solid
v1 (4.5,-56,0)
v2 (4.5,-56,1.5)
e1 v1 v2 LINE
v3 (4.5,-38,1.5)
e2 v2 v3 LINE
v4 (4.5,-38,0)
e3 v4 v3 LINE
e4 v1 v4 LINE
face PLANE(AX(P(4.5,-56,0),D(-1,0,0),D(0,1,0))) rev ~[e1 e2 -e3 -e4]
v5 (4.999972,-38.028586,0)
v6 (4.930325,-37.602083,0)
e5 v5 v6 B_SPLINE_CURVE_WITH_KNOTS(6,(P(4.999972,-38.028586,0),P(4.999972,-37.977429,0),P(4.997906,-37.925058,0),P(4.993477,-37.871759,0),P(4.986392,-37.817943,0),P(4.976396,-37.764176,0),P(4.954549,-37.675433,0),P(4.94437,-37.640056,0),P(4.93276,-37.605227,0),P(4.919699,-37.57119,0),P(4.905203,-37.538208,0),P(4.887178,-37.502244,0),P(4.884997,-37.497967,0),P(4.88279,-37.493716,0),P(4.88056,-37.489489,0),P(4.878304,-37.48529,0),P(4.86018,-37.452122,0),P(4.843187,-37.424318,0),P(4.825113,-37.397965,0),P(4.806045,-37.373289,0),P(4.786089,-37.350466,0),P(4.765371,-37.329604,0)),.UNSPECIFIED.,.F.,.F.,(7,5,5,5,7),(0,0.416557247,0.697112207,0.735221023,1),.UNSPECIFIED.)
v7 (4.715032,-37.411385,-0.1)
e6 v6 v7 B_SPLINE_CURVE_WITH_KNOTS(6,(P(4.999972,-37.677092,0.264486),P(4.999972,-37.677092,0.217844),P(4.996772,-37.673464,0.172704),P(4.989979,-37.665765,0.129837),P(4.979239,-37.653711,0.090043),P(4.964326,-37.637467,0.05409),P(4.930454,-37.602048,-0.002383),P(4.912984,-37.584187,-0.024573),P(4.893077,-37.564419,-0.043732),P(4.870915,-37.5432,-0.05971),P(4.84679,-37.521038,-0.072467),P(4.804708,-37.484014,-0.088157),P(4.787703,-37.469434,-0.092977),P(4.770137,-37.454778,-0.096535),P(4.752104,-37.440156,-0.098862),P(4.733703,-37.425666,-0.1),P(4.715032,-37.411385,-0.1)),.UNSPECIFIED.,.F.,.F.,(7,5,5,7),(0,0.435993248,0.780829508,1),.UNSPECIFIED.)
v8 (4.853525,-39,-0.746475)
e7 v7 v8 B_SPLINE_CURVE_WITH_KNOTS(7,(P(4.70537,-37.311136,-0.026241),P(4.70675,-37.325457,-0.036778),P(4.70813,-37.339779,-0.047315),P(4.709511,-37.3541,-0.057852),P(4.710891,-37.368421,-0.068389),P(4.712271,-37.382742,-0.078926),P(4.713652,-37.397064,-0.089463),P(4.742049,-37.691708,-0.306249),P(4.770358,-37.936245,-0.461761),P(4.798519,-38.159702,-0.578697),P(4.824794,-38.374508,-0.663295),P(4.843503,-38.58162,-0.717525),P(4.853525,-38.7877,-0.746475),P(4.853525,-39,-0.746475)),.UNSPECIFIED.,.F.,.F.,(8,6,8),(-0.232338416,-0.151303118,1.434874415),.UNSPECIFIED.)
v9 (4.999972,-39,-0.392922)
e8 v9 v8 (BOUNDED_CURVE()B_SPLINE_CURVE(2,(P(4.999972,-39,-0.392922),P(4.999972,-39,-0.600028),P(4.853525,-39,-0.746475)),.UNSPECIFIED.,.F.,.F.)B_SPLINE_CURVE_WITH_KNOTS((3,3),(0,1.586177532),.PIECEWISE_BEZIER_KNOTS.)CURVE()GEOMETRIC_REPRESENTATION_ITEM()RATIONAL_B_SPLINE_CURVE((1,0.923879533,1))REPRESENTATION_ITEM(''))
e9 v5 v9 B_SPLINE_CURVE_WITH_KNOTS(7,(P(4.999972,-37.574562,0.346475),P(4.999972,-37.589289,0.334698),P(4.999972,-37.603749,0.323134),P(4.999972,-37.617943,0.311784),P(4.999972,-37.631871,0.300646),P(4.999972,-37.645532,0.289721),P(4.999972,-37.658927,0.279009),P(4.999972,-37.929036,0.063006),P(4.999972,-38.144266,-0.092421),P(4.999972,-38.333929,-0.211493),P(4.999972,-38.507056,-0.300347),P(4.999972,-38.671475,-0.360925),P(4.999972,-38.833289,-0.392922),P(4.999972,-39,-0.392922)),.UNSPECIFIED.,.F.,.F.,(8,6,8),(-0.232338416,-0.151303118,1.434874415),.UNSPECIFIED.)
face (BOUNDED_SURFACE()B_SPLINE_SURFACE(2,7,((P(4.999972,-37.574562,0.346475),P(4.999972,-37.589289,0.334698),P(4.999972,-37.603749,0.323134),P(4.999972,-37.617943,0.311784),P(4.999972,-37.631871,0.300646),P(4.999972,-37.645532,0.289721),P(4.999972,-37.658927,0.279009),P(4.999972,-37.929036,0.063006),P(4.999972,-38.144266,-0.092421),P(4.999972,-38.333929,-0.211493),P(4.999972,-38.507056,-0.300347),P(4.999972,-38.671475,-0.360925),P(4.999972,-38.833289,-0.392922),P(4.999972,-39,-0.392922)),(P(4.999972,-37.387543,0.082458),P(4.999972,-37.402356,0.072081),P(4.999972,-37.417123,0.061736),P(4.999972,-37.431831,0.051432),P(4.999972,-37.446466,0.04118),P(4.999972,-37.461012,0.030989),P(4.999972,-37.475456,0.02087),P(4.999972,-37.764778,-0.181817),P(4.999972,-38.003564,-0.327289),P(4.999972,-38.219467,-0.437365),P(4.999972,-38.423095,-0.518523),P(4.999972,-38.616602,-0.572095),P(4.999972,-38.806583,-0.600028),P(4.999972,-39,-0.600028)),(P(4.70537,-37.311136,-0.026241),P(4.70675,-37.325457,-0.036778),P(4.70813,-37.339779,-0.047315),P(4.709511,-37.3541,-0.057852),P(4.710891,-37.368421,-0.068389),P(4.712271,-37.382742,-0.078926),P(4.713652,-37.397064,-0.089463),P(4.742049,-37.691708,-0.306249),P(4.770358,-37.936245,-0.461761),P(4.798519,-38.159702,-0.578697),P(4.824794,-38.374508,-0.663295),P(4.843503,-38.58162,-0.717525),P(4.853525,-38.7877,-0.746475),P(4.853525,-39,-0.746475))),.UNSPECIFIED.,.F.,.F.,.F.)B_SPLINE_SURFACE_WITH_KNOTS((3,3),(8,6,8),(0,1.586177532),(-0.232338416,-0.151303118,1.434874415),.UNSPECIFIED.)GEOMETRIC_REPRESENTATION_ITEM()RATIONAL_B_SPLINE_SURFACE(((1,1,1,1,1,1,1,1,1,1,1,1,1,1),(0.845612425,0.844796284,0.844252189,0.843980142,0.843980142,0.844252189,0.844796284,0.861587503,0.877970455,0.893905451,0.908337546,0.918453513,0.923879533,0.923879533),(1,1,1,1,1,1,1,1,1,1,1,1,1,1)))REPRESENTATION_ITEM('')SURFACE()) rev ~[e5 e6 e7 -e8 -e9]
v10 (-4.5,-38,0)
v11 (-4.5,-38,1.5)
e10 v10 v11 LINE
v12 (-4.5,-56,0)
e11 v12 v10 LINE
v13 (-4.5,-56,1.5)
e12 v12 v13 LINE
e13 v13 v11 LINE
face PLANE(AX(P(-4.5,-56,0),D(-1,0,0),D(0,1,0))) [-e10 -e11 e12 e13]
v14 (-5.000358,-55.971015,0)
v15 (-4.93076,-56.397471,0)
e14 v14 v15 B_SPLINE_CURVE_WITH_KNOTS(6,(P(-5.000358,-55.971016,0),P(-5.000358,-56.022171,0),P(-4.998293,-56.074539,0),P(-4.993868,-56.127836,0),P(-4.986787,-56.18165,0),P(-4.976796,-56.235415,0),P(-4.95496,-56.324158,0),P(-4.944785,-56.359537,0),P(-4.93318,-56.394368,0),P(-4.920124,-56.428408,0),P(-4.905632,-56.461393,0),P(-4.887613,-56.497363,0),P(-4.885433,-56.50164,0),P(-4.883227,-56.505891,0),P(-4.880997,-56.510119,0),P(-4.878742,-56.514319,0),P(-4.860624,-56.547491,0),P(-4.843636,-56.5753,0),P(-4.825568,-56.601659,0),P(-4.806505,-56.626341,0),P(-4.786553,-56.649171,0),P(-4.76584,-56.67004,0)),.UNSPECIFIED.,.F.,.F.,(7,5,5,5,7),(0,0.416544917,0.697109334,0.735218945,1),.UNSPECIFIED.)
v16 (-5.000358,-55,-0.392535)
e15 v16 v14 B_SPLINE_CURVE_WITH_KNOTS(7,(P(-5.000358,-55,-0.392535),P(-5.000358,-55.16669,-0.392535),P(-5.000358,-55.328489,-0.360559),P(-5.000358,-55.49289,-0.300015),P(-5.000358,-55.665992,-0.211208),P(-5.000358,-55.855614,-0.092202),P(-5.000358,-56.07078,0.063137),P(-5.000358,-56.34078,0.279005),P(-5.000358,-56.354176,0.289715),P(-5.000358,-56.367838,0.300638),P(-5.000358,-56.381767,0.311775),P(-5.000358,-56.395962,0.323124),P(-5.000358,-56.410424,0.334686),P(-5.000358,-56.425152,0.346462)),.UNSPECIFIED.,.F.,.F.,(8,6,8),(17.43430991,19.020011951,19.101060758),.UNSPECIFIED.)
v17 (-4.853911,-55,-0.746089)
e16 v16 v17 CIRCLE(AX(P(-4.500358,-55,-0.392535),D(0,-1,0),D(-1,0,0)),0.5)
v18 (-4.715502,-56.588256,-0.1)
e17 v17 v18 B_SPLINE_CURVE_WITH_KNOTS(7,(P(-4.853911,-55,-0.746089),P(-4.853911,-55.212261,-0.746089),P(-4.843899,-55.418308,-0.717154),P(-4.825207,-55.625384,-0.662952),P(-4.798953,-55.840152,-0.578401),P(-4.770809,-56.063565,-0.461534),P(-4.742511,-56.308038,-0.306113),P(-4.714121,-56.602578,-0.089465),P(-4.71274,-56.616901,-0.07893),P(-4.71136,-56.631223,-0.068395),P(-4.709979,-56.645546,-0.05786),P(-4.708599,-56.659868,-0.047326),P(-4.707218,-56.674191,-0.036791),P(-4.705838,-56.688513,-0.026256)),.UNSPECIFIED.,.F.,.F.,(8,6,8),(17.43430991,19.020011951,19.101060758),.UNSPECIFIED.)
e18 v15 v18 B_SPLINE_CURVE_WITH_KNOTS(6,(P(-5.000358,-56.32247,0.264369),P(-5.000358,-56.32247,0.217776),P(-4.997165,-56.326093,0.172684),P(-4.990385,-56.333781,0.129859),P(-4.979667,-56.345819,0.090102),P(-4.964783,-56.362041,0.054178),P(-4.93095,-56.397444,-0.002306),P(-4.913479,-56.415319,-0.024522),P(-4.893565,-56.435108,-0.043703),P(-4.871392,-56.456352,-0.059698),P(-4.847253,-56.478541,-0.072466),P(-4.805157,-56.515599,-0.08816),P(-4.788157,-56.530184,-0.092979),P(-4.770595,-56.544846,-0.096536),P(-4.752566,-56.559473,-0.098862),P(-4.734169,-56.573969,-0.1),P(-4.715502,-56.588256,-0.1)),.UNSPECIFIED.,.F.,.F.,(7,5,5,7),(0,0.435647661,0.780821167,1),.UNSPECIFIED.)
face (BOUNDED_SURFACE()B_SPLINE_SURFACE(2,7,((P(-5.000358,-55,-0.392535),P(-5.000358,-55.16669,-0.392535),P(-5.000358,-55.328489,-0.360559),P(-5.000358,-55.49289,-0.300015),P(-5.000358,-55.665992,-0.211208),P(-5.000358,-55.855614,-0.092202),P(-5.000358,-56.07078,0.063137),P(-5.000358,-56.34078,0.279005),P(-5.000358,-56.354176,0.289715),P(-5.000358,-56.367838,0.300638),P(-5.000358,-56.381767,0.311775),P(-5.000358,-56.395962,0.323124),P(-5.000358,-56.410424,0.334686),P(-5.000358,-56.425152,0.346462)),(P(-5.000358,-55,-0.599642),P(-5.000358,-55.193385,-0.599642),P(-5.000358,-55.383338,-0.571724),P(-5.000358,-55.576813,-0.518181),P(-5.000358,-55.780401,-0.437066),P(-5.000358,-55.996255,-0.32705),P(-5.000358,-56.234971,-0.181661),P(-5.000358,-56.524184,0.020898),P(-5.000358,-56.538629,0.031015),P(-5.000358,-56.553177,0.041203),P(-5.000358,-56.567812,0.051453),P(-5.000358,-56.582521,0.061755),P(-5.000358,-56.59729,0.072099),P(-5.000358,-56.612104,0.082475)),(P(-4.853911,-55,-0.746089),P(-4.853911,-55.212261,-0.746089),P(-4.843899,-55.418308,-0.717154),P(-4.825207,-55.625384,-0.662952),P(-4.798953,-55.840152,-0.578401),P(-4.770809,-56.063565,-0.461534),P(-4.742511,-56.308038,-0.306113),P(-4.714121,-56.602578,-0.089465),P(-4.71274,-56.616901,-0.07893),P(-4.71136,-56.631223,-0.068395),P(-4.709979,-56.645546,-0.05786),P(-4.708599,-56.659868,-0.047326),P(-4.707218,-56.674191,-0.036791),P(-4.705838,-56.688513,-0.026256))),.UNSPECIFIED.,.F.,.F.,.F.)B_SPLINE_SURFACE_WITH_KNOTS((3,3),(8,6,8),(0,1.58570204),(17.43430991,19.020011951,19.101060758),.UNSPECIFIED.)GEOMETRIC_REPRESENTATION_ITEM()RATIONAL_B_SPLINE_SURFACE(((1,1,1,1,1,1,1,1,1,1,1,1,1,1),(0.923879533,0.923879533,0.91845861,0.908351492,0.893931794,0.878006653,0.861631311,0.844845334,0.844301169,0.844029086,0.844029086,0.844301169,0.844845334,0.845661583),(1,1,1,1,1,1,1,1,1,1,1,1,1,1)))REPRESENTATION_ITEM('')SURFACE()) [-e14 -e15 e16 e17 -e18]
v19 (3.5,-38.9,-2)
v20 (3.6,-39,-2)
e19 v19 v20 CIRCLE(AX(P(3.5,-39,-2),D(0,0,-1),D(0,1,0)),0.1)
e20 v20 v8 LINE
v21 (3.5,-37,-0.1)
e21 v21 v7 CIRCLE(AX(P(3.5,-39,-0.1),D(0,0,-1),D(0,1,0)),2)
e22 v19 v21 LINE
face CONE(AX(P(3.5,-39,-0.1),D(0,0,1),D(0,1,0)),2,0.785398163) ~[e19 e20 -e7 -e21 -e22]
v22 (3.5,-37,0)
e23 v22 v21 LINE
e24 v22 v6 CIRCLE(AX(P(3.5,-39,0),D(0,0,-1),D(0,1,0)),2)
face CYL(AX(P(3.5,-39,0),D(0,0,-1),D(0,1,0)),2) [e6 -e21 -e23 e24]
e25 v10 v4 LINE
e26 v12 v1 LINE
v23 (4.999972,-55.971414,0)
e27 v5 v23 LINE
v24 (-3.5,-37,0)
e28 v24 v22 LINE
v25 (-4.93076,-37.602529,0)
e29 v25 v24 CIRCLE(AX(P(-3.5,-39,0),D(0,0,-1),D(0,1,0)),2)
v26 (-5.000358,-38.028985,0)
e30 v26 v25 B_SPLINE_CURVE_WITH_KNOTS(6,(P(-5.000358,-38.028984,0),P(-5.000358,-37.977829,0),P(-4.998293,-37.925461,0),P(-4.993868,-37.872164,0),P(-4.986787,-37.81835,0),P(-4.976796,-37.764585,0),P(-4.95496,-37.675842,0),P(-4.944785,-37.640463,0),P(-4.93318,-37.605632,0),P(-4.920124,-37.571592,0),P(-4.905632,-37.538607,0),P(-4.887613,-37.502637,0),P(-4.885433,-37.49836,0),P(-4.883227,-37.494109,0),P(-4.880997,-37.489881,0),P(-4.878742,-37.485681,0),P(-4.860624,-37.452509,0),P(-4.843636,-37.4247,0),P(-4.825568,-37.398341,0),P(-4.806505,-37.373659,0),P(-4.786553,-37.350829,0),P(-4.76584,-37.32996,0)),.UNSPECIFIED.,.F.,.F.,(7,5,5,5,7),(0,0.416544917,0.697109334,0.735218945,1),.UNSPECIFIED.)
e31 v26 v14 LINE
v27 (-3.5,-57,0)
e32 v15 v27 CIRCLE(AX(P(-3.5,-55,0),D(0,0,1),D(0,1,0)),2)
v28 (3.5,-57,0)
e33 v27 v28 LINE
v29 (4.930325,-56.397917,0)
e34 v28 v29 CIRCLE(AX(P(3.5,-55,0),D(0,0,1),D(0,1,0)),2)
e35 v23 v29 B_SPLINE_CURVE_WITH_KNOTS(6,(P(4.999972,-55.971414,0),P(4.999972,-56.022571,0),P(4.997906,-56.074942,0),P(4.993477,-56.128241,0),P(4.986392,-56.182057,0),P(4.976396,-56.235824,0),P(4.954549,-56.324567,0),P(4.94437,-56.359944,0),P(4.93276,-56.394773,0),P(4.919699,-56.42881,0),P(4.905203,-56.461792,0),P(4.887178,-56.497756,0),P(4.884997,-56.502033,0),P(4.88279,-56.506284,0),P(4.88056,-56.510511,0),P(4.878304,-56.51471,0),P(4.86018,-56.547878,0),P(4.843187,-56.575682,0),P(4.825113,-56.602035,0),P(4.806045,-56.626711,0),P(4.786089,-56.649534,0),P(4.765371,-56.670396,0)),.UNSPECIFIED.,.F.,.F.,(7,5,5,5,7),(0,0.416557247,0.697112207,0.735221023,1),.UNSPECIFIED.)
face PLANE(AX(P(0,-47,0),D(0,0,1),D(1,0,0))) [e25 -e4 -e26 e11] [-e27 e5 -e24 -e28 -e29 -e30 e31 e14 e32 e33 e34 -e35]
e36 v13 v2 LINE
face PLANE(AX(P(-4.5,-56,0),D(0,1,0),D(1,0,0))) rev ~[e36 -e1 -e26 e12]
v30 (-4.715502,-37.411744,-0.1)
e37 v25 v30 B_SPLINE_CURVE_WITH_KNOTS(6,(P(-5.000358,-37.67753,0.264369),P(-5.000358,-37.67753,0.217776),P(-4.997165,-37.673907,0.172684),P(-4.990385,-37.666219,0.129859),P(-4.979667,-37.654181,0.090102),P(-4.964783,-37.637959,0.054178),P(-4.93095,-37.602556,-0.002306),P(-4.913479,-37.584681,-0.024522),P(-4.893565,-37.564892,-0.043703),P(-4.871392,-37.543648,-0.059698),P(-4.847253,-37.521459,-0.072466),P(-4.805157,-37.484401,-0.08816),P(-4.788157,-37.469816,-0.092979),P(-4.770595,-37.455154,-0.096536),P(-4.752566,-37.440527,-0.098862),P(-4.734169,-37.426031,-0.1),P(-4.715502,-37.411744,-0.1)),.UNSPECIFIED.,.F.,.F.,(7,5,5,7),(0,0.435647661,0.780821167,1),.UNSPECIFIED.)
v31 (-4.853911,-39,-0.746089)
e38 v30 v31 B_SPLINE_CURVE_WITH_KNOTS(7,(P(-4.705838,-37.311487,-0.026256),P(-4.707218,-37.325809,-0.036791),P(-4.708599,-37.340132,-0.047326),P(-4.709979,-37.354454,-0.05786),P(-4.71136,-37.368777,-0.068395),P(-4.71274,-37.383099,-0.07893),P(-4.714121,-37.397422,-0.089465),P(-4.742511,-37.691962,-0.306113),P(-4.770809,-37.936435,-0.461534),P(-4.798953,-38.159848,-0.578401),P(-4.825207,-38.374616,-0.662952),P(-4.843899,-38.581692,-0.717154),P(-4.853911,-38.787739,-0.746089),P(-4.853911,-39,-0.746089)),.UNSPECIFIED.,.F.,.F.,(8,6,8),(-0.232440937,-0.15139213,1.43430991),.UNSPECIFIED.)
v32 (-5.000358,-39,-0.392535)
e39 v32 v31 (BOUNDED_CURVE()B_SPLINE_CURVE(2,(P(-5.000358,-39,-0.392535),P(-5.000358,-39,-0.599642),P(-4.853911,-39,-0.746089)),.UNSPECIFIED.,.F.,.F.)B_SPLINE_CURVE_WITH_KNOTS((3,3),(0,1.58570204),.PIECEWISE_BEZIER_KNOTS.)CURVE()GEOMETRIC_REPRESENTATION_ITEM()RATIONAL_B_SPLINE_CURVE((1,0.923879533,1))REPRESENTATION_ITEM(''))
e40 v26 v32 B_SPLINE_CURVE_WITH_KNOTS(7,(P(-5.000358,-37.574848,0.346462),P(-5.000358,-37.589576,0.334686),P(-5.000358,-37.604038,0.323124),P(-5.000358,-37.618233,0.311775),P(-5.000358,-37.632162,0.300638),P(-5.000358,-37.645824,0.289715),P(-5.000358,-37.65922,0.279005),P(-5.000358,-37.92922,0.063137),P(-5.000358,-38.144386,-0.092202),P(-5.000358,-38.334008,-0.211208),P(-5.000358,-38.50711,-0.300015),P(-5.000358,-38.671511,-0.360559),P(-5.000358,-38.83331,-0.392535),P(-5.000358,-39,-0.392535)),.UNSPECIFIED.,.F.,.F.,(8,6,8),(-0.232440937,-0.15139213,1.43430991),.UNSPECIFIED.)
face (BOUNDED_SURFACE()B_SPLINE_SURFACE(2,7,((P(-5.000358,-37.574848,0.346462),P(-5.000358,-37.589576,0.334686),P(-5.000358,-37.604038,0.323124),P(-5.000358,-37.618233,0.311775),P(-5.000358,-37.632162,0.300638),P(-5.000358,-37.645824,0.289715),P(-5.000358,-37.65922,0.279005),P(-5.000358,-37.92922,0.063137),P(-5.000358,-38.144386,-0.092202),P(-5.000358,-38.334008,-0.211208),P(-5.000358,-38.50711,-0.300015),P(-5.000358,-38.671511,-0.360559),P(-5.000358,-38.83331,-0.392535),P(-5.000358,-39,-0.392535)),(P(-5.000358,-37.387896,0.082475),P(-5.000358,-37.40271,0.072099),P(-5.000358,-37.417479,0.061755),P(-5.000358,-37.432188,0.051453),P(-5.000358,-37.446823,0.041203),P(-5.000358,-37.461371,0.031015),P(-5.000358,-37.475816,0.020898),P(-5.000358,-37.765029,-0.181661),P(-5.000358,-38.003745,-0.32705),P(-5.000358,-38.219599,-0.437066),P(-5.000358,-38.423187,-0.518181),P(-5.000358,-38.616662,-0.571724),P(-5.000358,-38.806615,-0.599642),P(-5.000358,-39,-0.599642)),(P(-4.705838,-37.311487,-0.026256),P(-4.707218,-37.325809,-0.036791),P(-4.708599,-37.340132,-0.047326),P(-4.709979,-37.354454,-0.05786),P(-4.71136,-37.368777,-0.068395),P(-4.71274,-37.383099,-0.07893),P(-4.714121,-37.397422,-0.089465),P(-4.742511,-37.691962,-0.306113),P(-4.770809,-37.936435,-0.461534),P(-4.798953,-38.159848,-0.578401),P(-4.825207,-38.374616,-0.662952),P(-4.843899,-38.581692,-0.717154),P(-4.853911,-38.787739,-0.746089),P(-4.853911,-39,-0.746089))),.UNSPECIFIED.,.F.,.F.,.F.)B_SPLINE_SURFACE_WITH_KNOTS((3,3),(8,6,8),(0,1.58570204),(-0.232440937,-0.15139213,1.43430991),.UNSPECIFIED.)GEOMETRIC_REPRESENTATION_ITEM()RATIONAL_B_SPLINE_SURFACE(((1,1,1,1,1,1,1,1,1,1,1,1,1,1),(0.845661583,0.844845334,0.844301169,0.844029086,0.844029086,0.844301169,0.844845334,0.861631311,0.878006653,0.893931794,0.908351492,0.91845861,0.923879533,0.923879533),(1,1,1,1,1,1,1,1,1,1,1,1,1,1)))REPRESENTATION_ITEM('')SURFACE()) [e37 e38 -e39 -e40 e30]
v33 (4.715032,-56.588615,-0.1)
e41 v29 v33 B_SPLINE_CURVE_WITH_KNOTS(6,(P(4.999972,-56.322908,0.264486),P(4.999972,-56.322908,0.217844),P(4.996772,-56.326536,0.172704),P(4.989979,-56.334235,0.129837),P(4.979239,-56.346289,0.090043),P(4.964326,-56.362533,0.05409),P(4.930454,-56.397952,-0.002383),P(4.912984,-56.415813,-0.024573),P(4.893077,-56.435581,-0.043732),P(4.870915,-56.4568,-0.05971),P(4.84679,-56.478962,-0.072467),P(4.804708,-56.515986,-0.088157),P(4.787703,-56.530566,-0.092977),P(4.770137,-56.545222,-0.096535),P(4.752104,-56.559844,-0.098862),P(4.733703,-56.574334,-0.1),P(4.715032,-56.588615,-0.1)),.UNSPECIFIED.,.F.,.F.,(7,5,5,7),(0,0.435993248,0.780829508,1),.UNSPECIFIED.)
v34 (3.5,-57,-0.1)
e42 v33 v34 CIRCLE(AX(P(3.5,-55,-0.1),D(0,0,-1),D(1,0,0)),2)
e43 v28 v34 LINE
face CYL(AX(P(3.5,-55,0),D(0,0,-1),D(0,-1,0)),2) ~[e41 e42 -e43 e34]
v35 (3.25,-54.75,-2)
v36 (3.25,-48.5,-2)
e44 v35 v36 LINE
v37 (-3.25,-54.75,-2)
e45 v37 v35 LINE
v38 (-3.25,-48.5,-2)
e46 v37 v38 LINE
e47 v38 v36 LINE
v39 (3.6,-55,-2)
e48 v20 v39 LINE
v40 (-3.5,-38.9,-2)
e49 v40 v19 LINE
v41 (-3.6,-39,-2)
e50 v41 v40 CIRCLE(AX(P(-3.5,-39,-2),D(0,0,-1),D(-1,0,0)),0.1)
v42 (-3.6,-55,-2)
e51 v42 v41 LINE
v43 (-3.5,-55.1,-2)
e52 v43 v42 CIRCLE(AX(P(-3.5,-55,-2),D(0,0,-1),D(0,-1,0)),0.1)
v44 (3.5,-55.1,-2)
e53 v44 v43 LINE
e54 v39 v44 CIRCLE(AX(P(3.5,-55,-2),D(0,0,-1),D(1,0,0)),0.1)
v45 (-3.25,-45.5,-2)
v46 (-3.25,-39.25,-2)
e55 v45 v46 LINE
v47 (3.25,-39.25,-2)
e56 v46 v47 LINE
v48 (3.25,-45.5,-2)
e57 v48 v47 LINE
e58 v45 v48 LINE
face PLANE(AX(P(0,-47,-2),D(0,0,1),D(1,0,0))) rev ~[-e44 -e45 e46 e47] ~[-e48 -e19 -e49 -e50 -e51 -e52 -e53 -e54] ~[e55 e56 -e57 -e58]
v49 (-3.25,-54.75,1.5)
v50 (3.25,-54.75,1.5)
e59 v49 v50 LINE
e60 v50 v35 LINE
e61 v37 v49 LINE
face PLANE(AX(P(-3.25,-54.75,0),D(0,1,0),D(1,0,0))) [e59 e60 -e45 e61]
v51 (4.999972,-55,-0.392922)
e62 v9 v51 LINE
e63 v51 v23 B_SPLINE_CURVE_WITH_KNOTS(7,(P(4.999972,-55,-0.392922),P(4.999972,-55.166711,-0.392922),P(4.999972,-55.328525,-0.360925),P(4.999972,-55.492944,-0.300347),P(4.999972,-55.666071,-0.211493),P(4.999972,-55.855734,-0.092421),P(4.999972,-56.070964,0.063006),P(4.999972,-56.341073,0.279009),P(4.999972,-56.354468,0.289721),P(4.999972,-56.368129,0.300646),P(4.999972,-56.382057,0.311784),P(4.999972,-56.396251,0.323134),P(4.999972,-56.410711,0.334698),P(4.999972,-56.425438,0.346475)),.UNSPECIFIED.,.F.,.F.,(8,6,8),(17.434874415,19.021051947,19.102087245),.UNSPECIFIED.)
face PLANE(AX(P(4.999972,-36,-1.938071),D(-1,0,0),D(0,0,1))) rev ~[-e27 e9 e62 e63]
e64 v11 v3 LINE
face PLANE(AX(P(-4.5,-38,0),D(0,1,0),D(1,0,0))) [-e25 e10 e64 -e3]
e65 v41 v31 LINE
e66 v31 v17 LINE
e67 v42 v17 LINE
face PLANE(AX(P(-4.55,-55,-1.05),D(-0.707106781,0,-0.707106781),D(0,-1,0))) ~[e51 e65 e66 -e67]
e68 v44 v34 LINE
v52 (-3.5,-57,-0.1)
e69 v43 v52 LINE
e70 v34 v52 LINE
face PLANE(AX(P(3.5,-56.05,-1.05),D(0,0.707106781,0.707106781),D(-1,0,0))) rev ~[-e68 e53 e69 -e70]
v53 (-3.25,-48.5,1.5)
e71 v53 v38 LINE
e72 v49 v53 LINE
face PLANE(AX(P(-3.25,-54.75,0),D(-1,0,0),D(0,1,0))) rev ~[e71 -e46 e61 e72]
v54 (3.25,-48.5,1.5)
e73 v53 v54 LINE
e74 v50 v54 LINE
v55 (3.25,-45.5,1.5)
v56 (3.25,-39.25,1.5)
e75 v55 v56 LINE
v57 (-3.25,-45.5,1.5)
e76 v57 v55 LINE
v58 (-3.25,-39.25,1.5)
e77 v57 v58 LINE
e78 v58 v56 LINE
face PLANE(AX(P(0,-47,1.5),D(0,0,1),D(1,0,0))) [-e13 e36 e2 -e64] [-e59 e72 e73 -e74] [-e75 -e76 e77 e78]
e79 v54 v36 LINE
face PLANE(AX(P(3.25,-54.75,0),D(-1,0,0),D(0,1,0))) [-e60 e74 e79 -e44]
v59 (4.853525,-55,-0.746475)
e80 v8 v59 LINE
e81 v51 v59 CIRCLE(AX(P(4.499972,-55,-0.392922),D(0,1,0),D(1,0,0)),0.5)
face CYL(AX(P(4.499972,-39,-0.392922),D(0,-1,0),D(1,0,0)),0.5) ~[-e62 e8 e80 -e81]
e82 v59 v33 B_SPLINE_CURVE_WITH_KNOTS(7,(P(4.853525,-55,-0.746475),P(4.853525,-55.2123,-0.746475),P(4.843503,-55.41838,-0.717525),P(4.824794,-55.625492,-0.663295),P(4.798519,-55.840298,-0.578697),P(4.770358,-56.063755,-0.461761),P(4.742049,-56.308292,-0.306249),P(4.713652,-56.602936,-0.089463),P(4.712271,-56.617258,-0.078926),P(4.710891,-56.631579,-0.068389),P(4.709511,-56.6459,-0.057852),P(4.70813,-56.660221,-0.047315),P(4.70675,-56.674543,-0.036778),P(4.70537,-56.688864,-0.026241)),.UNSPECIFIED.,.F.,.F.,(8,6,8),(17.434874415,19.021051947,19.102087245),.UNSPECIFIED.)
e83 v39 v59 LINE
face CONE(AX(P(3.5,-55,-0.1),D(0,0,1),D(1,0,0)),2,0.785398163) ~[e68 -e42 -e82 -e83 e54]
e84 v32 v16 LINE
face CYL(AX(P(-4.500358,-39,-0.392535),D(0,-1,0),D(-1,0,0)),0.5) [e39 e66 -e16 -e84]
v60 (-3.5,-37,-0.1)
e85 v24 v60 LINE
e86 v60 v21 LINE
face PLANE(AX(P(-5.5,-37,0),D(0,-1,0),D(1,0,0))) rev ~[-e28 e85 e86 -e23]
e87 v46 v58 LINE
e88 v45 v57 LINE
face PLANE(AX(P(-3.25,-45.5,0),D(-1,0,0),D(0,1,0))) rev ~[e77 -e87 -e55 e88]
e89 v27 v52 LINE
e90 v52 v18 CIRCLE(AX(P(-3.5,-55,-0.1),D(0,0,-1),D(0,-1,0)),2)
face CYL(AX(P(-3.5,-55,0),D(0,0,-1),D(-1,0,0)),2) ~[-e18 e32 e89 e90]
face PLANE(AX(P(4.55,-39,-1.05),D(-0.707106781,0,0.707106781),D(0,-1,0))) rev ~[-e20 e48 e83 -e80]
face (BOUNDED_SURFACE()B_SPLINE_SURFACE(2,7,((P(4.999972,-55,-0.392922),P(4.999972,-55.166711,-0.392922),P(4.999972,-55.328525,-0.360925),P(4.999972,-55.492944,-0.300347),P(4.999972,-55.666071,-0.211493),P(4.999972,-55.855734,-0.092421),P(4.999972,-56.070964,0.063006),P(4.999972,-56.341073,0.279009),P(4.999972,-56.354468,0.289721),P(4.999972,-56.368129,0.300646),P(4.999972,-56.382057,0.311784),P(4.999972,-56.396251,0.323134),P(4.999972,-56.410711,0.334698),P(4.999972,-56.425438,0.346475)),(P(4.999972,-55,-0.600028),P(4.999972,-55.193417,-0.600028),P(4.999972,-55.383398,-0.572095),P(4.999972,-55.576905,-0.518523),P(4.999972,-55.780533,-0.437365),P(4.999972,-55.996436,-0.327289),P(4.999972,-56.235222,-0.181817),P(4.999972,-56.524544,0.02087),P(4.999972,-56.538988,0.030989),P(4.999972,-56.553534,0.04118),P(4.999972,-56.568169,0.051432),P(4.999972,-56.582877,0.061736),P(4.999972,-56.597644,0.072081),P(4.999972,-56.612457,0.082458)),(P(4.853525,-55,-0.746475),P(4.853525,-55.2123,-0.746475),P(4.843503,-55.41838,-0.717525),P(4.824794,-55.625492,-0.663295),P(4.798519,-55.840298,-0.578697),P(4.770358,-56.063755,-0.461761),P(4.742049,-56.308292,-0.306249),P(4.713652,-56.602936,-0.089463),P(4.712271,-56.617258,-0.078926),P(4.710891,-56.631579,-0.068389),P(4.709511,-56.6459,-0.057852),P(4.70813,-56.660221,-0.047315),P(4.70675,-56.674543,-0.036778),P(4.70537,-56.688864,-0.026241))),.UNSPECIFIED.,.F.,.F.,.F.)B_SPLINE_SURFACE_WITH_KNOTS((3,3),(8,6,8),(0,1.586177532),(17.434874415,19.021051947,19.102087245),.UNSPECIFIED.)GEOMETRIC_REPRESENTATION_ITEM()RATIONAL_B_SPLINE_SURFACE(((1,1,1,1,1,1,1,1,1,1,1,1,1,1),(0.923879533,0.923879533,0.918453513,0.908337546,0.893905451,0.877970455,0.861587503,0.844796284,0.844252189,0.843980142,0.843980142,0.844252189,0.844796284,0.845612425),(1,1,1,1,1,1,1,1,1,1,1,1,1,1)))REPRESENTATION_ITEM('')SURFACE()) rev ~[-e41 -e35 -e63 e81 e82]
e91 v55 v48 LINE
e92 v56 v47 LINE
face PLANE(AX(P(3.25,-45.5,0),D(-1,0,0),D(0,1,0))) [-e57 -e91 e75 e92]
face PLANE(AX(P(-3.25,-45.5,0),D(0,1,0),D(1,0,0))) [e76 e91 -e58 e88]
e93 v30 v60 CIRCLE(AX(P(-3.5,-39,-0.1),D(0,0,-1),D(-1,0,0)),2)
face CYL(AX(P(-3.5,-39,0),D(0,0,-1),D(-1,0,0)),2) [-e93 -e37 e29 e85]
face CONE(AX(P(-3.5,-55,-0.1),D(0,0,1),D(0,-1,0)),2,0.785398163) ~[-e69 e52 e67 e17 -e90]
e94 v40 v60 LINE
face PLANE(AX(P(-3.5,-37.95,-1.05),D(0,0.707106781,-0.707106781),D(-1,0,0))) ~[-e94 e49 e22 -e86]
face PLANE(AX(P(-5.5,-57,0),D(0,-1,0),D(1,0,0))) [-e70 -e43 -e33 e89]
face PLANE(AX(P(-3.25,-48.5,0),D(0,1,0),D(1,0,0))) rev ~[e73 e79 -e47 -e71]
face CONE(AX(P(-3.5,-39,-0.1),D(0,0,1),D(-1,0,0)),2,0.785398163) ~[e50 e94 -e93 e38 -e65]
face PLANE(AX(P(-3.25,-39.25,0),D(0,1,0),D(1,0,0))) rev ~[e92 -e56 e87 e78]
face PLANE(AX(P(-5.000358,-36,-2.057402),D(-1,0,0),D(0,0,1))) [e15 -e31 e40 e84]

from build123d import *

# Parameters (mm, degrees)
SKETCH035_W     = 11
SKETCH035_H     = 20
PAD019_DEPTH    = 2
SKETCH036_W     = 6.5
SKETCH036_H     = 6.25
POCKET012_DEPTH = 5
FILLET007_R     = 2
CHAMFER_SIZE    = 1.9
SKETCH037_W     = 1.384659
SKETCH037_H     = 1.938071
SKETCH037_W_2   = 0.88585
SKETCH037_H_2   = 2.057402
POCKET013_DEPTH = 22
FILLET008_R     = 0.5
SKETCH045_W     = 9
SKETCH045_H     = 18
SKETCH045_W_2   = 6.5
SKETCH045_H_2   = 6.25
PAD021_DEPTH    = 1.5


with BuildPart() as part:
    # Sketch035 → Pad019 (new body)
    with BuildSketch(Plane.XY):
        with Locations((0, -47)):
            Rectangle(SKETCH035_W, SKETCH035_H)
    extrude(amount=-PAD019_DEPTH)

    # Sketch036 → Pocket012 (cut)
    with BuildSketch(Plane.XY):
        with Locations((0, -42.375)):
            Rectangle(SKETCH036_W, SKETCH036_H)
        with Locations((0, -51.625)):
            Rectangle(SKETCH036_W, SKETCH036_H)
    extrude(amount=-POCKET012_DEPTH, mode=Mode.SUBTRACT)

    # Fillet007
    fillet007_edges = [part.edges().sort_by_distance(p)[0] for p in [
        (-5.5, -37, -1),
        (5.5, -37, -1),
        (5.5, -57, -1),
        (-5.5, -57, -1),
    ]]
    fillet(fillet007_edges, radius=FILLET007_R)

    # Chamfer
    chamfer_edges = [part.edges().sort_by_distance(p)[0] for p in [
        (0, -37, -2),
        (-4.914214, -37.585786, -2),
        (4.914214, -37.585786, -2),
        (5.5, -47, -2),
        (4.914214, -56.414214, -2),
        (0, -57, -2),
        (-5.5, -47, -2),
        (-4.914214, -56.414214, -2),
    ]]
    chamfer(chamfer_edges, length=CHAMFER_SIZE)

    # Sketch037 → Pocket013 (cut)
    with BuildSketch(Plane.XZ.offset(36)):
        with Locations((5.692301, -0.969035)):
            Rectangle(SKETCH037_W, SKETCH037_H)
        with Locations((-5.443283, -1.028701)):
            Rectangle(SKETCH037_W_2, SKETCH037_H_2)
    extrude(amount=POCKET013_DEPTH, mode=Mode.SUBTRACT)

    # Fillet008
    fillet008_edges = [part.edges().sort_by_distance(p)[0] for p in [
        (4.999972, -47, -0.600028),
        (-5.000358, -47, -0.599642),
        (-5.000358, -55.695597, -0.446238),
        (4.999972, -55.695848, -0.446482),
        (-5.000358, -38.304403, -0.446238),
        (4.999972, -38.304152, -0.446482),
    ]]
    fillet(fillet008_edges, radius=FILLET008_R)

    # Sketch045 → Pad021 (join)
    with BuildSketch(Plane.XY):
        with Locations((0, -47)):
            Rectangle(SKETCH045_W, SKETCH045_H)
        with Locations((0, -42.375)):
            Rectangle(SKETCH045_W_2, SKETCH045_H_2, mode=Mode.SUBTRACT)
        with Locations((0, -51.625)):
            Rectangle(SKETCH045_W_2, SKETCH045_H_2, mode=Mode.SUBTRACT)
    extrude(amount=PAD021_DEPTH)


solid = part.part
